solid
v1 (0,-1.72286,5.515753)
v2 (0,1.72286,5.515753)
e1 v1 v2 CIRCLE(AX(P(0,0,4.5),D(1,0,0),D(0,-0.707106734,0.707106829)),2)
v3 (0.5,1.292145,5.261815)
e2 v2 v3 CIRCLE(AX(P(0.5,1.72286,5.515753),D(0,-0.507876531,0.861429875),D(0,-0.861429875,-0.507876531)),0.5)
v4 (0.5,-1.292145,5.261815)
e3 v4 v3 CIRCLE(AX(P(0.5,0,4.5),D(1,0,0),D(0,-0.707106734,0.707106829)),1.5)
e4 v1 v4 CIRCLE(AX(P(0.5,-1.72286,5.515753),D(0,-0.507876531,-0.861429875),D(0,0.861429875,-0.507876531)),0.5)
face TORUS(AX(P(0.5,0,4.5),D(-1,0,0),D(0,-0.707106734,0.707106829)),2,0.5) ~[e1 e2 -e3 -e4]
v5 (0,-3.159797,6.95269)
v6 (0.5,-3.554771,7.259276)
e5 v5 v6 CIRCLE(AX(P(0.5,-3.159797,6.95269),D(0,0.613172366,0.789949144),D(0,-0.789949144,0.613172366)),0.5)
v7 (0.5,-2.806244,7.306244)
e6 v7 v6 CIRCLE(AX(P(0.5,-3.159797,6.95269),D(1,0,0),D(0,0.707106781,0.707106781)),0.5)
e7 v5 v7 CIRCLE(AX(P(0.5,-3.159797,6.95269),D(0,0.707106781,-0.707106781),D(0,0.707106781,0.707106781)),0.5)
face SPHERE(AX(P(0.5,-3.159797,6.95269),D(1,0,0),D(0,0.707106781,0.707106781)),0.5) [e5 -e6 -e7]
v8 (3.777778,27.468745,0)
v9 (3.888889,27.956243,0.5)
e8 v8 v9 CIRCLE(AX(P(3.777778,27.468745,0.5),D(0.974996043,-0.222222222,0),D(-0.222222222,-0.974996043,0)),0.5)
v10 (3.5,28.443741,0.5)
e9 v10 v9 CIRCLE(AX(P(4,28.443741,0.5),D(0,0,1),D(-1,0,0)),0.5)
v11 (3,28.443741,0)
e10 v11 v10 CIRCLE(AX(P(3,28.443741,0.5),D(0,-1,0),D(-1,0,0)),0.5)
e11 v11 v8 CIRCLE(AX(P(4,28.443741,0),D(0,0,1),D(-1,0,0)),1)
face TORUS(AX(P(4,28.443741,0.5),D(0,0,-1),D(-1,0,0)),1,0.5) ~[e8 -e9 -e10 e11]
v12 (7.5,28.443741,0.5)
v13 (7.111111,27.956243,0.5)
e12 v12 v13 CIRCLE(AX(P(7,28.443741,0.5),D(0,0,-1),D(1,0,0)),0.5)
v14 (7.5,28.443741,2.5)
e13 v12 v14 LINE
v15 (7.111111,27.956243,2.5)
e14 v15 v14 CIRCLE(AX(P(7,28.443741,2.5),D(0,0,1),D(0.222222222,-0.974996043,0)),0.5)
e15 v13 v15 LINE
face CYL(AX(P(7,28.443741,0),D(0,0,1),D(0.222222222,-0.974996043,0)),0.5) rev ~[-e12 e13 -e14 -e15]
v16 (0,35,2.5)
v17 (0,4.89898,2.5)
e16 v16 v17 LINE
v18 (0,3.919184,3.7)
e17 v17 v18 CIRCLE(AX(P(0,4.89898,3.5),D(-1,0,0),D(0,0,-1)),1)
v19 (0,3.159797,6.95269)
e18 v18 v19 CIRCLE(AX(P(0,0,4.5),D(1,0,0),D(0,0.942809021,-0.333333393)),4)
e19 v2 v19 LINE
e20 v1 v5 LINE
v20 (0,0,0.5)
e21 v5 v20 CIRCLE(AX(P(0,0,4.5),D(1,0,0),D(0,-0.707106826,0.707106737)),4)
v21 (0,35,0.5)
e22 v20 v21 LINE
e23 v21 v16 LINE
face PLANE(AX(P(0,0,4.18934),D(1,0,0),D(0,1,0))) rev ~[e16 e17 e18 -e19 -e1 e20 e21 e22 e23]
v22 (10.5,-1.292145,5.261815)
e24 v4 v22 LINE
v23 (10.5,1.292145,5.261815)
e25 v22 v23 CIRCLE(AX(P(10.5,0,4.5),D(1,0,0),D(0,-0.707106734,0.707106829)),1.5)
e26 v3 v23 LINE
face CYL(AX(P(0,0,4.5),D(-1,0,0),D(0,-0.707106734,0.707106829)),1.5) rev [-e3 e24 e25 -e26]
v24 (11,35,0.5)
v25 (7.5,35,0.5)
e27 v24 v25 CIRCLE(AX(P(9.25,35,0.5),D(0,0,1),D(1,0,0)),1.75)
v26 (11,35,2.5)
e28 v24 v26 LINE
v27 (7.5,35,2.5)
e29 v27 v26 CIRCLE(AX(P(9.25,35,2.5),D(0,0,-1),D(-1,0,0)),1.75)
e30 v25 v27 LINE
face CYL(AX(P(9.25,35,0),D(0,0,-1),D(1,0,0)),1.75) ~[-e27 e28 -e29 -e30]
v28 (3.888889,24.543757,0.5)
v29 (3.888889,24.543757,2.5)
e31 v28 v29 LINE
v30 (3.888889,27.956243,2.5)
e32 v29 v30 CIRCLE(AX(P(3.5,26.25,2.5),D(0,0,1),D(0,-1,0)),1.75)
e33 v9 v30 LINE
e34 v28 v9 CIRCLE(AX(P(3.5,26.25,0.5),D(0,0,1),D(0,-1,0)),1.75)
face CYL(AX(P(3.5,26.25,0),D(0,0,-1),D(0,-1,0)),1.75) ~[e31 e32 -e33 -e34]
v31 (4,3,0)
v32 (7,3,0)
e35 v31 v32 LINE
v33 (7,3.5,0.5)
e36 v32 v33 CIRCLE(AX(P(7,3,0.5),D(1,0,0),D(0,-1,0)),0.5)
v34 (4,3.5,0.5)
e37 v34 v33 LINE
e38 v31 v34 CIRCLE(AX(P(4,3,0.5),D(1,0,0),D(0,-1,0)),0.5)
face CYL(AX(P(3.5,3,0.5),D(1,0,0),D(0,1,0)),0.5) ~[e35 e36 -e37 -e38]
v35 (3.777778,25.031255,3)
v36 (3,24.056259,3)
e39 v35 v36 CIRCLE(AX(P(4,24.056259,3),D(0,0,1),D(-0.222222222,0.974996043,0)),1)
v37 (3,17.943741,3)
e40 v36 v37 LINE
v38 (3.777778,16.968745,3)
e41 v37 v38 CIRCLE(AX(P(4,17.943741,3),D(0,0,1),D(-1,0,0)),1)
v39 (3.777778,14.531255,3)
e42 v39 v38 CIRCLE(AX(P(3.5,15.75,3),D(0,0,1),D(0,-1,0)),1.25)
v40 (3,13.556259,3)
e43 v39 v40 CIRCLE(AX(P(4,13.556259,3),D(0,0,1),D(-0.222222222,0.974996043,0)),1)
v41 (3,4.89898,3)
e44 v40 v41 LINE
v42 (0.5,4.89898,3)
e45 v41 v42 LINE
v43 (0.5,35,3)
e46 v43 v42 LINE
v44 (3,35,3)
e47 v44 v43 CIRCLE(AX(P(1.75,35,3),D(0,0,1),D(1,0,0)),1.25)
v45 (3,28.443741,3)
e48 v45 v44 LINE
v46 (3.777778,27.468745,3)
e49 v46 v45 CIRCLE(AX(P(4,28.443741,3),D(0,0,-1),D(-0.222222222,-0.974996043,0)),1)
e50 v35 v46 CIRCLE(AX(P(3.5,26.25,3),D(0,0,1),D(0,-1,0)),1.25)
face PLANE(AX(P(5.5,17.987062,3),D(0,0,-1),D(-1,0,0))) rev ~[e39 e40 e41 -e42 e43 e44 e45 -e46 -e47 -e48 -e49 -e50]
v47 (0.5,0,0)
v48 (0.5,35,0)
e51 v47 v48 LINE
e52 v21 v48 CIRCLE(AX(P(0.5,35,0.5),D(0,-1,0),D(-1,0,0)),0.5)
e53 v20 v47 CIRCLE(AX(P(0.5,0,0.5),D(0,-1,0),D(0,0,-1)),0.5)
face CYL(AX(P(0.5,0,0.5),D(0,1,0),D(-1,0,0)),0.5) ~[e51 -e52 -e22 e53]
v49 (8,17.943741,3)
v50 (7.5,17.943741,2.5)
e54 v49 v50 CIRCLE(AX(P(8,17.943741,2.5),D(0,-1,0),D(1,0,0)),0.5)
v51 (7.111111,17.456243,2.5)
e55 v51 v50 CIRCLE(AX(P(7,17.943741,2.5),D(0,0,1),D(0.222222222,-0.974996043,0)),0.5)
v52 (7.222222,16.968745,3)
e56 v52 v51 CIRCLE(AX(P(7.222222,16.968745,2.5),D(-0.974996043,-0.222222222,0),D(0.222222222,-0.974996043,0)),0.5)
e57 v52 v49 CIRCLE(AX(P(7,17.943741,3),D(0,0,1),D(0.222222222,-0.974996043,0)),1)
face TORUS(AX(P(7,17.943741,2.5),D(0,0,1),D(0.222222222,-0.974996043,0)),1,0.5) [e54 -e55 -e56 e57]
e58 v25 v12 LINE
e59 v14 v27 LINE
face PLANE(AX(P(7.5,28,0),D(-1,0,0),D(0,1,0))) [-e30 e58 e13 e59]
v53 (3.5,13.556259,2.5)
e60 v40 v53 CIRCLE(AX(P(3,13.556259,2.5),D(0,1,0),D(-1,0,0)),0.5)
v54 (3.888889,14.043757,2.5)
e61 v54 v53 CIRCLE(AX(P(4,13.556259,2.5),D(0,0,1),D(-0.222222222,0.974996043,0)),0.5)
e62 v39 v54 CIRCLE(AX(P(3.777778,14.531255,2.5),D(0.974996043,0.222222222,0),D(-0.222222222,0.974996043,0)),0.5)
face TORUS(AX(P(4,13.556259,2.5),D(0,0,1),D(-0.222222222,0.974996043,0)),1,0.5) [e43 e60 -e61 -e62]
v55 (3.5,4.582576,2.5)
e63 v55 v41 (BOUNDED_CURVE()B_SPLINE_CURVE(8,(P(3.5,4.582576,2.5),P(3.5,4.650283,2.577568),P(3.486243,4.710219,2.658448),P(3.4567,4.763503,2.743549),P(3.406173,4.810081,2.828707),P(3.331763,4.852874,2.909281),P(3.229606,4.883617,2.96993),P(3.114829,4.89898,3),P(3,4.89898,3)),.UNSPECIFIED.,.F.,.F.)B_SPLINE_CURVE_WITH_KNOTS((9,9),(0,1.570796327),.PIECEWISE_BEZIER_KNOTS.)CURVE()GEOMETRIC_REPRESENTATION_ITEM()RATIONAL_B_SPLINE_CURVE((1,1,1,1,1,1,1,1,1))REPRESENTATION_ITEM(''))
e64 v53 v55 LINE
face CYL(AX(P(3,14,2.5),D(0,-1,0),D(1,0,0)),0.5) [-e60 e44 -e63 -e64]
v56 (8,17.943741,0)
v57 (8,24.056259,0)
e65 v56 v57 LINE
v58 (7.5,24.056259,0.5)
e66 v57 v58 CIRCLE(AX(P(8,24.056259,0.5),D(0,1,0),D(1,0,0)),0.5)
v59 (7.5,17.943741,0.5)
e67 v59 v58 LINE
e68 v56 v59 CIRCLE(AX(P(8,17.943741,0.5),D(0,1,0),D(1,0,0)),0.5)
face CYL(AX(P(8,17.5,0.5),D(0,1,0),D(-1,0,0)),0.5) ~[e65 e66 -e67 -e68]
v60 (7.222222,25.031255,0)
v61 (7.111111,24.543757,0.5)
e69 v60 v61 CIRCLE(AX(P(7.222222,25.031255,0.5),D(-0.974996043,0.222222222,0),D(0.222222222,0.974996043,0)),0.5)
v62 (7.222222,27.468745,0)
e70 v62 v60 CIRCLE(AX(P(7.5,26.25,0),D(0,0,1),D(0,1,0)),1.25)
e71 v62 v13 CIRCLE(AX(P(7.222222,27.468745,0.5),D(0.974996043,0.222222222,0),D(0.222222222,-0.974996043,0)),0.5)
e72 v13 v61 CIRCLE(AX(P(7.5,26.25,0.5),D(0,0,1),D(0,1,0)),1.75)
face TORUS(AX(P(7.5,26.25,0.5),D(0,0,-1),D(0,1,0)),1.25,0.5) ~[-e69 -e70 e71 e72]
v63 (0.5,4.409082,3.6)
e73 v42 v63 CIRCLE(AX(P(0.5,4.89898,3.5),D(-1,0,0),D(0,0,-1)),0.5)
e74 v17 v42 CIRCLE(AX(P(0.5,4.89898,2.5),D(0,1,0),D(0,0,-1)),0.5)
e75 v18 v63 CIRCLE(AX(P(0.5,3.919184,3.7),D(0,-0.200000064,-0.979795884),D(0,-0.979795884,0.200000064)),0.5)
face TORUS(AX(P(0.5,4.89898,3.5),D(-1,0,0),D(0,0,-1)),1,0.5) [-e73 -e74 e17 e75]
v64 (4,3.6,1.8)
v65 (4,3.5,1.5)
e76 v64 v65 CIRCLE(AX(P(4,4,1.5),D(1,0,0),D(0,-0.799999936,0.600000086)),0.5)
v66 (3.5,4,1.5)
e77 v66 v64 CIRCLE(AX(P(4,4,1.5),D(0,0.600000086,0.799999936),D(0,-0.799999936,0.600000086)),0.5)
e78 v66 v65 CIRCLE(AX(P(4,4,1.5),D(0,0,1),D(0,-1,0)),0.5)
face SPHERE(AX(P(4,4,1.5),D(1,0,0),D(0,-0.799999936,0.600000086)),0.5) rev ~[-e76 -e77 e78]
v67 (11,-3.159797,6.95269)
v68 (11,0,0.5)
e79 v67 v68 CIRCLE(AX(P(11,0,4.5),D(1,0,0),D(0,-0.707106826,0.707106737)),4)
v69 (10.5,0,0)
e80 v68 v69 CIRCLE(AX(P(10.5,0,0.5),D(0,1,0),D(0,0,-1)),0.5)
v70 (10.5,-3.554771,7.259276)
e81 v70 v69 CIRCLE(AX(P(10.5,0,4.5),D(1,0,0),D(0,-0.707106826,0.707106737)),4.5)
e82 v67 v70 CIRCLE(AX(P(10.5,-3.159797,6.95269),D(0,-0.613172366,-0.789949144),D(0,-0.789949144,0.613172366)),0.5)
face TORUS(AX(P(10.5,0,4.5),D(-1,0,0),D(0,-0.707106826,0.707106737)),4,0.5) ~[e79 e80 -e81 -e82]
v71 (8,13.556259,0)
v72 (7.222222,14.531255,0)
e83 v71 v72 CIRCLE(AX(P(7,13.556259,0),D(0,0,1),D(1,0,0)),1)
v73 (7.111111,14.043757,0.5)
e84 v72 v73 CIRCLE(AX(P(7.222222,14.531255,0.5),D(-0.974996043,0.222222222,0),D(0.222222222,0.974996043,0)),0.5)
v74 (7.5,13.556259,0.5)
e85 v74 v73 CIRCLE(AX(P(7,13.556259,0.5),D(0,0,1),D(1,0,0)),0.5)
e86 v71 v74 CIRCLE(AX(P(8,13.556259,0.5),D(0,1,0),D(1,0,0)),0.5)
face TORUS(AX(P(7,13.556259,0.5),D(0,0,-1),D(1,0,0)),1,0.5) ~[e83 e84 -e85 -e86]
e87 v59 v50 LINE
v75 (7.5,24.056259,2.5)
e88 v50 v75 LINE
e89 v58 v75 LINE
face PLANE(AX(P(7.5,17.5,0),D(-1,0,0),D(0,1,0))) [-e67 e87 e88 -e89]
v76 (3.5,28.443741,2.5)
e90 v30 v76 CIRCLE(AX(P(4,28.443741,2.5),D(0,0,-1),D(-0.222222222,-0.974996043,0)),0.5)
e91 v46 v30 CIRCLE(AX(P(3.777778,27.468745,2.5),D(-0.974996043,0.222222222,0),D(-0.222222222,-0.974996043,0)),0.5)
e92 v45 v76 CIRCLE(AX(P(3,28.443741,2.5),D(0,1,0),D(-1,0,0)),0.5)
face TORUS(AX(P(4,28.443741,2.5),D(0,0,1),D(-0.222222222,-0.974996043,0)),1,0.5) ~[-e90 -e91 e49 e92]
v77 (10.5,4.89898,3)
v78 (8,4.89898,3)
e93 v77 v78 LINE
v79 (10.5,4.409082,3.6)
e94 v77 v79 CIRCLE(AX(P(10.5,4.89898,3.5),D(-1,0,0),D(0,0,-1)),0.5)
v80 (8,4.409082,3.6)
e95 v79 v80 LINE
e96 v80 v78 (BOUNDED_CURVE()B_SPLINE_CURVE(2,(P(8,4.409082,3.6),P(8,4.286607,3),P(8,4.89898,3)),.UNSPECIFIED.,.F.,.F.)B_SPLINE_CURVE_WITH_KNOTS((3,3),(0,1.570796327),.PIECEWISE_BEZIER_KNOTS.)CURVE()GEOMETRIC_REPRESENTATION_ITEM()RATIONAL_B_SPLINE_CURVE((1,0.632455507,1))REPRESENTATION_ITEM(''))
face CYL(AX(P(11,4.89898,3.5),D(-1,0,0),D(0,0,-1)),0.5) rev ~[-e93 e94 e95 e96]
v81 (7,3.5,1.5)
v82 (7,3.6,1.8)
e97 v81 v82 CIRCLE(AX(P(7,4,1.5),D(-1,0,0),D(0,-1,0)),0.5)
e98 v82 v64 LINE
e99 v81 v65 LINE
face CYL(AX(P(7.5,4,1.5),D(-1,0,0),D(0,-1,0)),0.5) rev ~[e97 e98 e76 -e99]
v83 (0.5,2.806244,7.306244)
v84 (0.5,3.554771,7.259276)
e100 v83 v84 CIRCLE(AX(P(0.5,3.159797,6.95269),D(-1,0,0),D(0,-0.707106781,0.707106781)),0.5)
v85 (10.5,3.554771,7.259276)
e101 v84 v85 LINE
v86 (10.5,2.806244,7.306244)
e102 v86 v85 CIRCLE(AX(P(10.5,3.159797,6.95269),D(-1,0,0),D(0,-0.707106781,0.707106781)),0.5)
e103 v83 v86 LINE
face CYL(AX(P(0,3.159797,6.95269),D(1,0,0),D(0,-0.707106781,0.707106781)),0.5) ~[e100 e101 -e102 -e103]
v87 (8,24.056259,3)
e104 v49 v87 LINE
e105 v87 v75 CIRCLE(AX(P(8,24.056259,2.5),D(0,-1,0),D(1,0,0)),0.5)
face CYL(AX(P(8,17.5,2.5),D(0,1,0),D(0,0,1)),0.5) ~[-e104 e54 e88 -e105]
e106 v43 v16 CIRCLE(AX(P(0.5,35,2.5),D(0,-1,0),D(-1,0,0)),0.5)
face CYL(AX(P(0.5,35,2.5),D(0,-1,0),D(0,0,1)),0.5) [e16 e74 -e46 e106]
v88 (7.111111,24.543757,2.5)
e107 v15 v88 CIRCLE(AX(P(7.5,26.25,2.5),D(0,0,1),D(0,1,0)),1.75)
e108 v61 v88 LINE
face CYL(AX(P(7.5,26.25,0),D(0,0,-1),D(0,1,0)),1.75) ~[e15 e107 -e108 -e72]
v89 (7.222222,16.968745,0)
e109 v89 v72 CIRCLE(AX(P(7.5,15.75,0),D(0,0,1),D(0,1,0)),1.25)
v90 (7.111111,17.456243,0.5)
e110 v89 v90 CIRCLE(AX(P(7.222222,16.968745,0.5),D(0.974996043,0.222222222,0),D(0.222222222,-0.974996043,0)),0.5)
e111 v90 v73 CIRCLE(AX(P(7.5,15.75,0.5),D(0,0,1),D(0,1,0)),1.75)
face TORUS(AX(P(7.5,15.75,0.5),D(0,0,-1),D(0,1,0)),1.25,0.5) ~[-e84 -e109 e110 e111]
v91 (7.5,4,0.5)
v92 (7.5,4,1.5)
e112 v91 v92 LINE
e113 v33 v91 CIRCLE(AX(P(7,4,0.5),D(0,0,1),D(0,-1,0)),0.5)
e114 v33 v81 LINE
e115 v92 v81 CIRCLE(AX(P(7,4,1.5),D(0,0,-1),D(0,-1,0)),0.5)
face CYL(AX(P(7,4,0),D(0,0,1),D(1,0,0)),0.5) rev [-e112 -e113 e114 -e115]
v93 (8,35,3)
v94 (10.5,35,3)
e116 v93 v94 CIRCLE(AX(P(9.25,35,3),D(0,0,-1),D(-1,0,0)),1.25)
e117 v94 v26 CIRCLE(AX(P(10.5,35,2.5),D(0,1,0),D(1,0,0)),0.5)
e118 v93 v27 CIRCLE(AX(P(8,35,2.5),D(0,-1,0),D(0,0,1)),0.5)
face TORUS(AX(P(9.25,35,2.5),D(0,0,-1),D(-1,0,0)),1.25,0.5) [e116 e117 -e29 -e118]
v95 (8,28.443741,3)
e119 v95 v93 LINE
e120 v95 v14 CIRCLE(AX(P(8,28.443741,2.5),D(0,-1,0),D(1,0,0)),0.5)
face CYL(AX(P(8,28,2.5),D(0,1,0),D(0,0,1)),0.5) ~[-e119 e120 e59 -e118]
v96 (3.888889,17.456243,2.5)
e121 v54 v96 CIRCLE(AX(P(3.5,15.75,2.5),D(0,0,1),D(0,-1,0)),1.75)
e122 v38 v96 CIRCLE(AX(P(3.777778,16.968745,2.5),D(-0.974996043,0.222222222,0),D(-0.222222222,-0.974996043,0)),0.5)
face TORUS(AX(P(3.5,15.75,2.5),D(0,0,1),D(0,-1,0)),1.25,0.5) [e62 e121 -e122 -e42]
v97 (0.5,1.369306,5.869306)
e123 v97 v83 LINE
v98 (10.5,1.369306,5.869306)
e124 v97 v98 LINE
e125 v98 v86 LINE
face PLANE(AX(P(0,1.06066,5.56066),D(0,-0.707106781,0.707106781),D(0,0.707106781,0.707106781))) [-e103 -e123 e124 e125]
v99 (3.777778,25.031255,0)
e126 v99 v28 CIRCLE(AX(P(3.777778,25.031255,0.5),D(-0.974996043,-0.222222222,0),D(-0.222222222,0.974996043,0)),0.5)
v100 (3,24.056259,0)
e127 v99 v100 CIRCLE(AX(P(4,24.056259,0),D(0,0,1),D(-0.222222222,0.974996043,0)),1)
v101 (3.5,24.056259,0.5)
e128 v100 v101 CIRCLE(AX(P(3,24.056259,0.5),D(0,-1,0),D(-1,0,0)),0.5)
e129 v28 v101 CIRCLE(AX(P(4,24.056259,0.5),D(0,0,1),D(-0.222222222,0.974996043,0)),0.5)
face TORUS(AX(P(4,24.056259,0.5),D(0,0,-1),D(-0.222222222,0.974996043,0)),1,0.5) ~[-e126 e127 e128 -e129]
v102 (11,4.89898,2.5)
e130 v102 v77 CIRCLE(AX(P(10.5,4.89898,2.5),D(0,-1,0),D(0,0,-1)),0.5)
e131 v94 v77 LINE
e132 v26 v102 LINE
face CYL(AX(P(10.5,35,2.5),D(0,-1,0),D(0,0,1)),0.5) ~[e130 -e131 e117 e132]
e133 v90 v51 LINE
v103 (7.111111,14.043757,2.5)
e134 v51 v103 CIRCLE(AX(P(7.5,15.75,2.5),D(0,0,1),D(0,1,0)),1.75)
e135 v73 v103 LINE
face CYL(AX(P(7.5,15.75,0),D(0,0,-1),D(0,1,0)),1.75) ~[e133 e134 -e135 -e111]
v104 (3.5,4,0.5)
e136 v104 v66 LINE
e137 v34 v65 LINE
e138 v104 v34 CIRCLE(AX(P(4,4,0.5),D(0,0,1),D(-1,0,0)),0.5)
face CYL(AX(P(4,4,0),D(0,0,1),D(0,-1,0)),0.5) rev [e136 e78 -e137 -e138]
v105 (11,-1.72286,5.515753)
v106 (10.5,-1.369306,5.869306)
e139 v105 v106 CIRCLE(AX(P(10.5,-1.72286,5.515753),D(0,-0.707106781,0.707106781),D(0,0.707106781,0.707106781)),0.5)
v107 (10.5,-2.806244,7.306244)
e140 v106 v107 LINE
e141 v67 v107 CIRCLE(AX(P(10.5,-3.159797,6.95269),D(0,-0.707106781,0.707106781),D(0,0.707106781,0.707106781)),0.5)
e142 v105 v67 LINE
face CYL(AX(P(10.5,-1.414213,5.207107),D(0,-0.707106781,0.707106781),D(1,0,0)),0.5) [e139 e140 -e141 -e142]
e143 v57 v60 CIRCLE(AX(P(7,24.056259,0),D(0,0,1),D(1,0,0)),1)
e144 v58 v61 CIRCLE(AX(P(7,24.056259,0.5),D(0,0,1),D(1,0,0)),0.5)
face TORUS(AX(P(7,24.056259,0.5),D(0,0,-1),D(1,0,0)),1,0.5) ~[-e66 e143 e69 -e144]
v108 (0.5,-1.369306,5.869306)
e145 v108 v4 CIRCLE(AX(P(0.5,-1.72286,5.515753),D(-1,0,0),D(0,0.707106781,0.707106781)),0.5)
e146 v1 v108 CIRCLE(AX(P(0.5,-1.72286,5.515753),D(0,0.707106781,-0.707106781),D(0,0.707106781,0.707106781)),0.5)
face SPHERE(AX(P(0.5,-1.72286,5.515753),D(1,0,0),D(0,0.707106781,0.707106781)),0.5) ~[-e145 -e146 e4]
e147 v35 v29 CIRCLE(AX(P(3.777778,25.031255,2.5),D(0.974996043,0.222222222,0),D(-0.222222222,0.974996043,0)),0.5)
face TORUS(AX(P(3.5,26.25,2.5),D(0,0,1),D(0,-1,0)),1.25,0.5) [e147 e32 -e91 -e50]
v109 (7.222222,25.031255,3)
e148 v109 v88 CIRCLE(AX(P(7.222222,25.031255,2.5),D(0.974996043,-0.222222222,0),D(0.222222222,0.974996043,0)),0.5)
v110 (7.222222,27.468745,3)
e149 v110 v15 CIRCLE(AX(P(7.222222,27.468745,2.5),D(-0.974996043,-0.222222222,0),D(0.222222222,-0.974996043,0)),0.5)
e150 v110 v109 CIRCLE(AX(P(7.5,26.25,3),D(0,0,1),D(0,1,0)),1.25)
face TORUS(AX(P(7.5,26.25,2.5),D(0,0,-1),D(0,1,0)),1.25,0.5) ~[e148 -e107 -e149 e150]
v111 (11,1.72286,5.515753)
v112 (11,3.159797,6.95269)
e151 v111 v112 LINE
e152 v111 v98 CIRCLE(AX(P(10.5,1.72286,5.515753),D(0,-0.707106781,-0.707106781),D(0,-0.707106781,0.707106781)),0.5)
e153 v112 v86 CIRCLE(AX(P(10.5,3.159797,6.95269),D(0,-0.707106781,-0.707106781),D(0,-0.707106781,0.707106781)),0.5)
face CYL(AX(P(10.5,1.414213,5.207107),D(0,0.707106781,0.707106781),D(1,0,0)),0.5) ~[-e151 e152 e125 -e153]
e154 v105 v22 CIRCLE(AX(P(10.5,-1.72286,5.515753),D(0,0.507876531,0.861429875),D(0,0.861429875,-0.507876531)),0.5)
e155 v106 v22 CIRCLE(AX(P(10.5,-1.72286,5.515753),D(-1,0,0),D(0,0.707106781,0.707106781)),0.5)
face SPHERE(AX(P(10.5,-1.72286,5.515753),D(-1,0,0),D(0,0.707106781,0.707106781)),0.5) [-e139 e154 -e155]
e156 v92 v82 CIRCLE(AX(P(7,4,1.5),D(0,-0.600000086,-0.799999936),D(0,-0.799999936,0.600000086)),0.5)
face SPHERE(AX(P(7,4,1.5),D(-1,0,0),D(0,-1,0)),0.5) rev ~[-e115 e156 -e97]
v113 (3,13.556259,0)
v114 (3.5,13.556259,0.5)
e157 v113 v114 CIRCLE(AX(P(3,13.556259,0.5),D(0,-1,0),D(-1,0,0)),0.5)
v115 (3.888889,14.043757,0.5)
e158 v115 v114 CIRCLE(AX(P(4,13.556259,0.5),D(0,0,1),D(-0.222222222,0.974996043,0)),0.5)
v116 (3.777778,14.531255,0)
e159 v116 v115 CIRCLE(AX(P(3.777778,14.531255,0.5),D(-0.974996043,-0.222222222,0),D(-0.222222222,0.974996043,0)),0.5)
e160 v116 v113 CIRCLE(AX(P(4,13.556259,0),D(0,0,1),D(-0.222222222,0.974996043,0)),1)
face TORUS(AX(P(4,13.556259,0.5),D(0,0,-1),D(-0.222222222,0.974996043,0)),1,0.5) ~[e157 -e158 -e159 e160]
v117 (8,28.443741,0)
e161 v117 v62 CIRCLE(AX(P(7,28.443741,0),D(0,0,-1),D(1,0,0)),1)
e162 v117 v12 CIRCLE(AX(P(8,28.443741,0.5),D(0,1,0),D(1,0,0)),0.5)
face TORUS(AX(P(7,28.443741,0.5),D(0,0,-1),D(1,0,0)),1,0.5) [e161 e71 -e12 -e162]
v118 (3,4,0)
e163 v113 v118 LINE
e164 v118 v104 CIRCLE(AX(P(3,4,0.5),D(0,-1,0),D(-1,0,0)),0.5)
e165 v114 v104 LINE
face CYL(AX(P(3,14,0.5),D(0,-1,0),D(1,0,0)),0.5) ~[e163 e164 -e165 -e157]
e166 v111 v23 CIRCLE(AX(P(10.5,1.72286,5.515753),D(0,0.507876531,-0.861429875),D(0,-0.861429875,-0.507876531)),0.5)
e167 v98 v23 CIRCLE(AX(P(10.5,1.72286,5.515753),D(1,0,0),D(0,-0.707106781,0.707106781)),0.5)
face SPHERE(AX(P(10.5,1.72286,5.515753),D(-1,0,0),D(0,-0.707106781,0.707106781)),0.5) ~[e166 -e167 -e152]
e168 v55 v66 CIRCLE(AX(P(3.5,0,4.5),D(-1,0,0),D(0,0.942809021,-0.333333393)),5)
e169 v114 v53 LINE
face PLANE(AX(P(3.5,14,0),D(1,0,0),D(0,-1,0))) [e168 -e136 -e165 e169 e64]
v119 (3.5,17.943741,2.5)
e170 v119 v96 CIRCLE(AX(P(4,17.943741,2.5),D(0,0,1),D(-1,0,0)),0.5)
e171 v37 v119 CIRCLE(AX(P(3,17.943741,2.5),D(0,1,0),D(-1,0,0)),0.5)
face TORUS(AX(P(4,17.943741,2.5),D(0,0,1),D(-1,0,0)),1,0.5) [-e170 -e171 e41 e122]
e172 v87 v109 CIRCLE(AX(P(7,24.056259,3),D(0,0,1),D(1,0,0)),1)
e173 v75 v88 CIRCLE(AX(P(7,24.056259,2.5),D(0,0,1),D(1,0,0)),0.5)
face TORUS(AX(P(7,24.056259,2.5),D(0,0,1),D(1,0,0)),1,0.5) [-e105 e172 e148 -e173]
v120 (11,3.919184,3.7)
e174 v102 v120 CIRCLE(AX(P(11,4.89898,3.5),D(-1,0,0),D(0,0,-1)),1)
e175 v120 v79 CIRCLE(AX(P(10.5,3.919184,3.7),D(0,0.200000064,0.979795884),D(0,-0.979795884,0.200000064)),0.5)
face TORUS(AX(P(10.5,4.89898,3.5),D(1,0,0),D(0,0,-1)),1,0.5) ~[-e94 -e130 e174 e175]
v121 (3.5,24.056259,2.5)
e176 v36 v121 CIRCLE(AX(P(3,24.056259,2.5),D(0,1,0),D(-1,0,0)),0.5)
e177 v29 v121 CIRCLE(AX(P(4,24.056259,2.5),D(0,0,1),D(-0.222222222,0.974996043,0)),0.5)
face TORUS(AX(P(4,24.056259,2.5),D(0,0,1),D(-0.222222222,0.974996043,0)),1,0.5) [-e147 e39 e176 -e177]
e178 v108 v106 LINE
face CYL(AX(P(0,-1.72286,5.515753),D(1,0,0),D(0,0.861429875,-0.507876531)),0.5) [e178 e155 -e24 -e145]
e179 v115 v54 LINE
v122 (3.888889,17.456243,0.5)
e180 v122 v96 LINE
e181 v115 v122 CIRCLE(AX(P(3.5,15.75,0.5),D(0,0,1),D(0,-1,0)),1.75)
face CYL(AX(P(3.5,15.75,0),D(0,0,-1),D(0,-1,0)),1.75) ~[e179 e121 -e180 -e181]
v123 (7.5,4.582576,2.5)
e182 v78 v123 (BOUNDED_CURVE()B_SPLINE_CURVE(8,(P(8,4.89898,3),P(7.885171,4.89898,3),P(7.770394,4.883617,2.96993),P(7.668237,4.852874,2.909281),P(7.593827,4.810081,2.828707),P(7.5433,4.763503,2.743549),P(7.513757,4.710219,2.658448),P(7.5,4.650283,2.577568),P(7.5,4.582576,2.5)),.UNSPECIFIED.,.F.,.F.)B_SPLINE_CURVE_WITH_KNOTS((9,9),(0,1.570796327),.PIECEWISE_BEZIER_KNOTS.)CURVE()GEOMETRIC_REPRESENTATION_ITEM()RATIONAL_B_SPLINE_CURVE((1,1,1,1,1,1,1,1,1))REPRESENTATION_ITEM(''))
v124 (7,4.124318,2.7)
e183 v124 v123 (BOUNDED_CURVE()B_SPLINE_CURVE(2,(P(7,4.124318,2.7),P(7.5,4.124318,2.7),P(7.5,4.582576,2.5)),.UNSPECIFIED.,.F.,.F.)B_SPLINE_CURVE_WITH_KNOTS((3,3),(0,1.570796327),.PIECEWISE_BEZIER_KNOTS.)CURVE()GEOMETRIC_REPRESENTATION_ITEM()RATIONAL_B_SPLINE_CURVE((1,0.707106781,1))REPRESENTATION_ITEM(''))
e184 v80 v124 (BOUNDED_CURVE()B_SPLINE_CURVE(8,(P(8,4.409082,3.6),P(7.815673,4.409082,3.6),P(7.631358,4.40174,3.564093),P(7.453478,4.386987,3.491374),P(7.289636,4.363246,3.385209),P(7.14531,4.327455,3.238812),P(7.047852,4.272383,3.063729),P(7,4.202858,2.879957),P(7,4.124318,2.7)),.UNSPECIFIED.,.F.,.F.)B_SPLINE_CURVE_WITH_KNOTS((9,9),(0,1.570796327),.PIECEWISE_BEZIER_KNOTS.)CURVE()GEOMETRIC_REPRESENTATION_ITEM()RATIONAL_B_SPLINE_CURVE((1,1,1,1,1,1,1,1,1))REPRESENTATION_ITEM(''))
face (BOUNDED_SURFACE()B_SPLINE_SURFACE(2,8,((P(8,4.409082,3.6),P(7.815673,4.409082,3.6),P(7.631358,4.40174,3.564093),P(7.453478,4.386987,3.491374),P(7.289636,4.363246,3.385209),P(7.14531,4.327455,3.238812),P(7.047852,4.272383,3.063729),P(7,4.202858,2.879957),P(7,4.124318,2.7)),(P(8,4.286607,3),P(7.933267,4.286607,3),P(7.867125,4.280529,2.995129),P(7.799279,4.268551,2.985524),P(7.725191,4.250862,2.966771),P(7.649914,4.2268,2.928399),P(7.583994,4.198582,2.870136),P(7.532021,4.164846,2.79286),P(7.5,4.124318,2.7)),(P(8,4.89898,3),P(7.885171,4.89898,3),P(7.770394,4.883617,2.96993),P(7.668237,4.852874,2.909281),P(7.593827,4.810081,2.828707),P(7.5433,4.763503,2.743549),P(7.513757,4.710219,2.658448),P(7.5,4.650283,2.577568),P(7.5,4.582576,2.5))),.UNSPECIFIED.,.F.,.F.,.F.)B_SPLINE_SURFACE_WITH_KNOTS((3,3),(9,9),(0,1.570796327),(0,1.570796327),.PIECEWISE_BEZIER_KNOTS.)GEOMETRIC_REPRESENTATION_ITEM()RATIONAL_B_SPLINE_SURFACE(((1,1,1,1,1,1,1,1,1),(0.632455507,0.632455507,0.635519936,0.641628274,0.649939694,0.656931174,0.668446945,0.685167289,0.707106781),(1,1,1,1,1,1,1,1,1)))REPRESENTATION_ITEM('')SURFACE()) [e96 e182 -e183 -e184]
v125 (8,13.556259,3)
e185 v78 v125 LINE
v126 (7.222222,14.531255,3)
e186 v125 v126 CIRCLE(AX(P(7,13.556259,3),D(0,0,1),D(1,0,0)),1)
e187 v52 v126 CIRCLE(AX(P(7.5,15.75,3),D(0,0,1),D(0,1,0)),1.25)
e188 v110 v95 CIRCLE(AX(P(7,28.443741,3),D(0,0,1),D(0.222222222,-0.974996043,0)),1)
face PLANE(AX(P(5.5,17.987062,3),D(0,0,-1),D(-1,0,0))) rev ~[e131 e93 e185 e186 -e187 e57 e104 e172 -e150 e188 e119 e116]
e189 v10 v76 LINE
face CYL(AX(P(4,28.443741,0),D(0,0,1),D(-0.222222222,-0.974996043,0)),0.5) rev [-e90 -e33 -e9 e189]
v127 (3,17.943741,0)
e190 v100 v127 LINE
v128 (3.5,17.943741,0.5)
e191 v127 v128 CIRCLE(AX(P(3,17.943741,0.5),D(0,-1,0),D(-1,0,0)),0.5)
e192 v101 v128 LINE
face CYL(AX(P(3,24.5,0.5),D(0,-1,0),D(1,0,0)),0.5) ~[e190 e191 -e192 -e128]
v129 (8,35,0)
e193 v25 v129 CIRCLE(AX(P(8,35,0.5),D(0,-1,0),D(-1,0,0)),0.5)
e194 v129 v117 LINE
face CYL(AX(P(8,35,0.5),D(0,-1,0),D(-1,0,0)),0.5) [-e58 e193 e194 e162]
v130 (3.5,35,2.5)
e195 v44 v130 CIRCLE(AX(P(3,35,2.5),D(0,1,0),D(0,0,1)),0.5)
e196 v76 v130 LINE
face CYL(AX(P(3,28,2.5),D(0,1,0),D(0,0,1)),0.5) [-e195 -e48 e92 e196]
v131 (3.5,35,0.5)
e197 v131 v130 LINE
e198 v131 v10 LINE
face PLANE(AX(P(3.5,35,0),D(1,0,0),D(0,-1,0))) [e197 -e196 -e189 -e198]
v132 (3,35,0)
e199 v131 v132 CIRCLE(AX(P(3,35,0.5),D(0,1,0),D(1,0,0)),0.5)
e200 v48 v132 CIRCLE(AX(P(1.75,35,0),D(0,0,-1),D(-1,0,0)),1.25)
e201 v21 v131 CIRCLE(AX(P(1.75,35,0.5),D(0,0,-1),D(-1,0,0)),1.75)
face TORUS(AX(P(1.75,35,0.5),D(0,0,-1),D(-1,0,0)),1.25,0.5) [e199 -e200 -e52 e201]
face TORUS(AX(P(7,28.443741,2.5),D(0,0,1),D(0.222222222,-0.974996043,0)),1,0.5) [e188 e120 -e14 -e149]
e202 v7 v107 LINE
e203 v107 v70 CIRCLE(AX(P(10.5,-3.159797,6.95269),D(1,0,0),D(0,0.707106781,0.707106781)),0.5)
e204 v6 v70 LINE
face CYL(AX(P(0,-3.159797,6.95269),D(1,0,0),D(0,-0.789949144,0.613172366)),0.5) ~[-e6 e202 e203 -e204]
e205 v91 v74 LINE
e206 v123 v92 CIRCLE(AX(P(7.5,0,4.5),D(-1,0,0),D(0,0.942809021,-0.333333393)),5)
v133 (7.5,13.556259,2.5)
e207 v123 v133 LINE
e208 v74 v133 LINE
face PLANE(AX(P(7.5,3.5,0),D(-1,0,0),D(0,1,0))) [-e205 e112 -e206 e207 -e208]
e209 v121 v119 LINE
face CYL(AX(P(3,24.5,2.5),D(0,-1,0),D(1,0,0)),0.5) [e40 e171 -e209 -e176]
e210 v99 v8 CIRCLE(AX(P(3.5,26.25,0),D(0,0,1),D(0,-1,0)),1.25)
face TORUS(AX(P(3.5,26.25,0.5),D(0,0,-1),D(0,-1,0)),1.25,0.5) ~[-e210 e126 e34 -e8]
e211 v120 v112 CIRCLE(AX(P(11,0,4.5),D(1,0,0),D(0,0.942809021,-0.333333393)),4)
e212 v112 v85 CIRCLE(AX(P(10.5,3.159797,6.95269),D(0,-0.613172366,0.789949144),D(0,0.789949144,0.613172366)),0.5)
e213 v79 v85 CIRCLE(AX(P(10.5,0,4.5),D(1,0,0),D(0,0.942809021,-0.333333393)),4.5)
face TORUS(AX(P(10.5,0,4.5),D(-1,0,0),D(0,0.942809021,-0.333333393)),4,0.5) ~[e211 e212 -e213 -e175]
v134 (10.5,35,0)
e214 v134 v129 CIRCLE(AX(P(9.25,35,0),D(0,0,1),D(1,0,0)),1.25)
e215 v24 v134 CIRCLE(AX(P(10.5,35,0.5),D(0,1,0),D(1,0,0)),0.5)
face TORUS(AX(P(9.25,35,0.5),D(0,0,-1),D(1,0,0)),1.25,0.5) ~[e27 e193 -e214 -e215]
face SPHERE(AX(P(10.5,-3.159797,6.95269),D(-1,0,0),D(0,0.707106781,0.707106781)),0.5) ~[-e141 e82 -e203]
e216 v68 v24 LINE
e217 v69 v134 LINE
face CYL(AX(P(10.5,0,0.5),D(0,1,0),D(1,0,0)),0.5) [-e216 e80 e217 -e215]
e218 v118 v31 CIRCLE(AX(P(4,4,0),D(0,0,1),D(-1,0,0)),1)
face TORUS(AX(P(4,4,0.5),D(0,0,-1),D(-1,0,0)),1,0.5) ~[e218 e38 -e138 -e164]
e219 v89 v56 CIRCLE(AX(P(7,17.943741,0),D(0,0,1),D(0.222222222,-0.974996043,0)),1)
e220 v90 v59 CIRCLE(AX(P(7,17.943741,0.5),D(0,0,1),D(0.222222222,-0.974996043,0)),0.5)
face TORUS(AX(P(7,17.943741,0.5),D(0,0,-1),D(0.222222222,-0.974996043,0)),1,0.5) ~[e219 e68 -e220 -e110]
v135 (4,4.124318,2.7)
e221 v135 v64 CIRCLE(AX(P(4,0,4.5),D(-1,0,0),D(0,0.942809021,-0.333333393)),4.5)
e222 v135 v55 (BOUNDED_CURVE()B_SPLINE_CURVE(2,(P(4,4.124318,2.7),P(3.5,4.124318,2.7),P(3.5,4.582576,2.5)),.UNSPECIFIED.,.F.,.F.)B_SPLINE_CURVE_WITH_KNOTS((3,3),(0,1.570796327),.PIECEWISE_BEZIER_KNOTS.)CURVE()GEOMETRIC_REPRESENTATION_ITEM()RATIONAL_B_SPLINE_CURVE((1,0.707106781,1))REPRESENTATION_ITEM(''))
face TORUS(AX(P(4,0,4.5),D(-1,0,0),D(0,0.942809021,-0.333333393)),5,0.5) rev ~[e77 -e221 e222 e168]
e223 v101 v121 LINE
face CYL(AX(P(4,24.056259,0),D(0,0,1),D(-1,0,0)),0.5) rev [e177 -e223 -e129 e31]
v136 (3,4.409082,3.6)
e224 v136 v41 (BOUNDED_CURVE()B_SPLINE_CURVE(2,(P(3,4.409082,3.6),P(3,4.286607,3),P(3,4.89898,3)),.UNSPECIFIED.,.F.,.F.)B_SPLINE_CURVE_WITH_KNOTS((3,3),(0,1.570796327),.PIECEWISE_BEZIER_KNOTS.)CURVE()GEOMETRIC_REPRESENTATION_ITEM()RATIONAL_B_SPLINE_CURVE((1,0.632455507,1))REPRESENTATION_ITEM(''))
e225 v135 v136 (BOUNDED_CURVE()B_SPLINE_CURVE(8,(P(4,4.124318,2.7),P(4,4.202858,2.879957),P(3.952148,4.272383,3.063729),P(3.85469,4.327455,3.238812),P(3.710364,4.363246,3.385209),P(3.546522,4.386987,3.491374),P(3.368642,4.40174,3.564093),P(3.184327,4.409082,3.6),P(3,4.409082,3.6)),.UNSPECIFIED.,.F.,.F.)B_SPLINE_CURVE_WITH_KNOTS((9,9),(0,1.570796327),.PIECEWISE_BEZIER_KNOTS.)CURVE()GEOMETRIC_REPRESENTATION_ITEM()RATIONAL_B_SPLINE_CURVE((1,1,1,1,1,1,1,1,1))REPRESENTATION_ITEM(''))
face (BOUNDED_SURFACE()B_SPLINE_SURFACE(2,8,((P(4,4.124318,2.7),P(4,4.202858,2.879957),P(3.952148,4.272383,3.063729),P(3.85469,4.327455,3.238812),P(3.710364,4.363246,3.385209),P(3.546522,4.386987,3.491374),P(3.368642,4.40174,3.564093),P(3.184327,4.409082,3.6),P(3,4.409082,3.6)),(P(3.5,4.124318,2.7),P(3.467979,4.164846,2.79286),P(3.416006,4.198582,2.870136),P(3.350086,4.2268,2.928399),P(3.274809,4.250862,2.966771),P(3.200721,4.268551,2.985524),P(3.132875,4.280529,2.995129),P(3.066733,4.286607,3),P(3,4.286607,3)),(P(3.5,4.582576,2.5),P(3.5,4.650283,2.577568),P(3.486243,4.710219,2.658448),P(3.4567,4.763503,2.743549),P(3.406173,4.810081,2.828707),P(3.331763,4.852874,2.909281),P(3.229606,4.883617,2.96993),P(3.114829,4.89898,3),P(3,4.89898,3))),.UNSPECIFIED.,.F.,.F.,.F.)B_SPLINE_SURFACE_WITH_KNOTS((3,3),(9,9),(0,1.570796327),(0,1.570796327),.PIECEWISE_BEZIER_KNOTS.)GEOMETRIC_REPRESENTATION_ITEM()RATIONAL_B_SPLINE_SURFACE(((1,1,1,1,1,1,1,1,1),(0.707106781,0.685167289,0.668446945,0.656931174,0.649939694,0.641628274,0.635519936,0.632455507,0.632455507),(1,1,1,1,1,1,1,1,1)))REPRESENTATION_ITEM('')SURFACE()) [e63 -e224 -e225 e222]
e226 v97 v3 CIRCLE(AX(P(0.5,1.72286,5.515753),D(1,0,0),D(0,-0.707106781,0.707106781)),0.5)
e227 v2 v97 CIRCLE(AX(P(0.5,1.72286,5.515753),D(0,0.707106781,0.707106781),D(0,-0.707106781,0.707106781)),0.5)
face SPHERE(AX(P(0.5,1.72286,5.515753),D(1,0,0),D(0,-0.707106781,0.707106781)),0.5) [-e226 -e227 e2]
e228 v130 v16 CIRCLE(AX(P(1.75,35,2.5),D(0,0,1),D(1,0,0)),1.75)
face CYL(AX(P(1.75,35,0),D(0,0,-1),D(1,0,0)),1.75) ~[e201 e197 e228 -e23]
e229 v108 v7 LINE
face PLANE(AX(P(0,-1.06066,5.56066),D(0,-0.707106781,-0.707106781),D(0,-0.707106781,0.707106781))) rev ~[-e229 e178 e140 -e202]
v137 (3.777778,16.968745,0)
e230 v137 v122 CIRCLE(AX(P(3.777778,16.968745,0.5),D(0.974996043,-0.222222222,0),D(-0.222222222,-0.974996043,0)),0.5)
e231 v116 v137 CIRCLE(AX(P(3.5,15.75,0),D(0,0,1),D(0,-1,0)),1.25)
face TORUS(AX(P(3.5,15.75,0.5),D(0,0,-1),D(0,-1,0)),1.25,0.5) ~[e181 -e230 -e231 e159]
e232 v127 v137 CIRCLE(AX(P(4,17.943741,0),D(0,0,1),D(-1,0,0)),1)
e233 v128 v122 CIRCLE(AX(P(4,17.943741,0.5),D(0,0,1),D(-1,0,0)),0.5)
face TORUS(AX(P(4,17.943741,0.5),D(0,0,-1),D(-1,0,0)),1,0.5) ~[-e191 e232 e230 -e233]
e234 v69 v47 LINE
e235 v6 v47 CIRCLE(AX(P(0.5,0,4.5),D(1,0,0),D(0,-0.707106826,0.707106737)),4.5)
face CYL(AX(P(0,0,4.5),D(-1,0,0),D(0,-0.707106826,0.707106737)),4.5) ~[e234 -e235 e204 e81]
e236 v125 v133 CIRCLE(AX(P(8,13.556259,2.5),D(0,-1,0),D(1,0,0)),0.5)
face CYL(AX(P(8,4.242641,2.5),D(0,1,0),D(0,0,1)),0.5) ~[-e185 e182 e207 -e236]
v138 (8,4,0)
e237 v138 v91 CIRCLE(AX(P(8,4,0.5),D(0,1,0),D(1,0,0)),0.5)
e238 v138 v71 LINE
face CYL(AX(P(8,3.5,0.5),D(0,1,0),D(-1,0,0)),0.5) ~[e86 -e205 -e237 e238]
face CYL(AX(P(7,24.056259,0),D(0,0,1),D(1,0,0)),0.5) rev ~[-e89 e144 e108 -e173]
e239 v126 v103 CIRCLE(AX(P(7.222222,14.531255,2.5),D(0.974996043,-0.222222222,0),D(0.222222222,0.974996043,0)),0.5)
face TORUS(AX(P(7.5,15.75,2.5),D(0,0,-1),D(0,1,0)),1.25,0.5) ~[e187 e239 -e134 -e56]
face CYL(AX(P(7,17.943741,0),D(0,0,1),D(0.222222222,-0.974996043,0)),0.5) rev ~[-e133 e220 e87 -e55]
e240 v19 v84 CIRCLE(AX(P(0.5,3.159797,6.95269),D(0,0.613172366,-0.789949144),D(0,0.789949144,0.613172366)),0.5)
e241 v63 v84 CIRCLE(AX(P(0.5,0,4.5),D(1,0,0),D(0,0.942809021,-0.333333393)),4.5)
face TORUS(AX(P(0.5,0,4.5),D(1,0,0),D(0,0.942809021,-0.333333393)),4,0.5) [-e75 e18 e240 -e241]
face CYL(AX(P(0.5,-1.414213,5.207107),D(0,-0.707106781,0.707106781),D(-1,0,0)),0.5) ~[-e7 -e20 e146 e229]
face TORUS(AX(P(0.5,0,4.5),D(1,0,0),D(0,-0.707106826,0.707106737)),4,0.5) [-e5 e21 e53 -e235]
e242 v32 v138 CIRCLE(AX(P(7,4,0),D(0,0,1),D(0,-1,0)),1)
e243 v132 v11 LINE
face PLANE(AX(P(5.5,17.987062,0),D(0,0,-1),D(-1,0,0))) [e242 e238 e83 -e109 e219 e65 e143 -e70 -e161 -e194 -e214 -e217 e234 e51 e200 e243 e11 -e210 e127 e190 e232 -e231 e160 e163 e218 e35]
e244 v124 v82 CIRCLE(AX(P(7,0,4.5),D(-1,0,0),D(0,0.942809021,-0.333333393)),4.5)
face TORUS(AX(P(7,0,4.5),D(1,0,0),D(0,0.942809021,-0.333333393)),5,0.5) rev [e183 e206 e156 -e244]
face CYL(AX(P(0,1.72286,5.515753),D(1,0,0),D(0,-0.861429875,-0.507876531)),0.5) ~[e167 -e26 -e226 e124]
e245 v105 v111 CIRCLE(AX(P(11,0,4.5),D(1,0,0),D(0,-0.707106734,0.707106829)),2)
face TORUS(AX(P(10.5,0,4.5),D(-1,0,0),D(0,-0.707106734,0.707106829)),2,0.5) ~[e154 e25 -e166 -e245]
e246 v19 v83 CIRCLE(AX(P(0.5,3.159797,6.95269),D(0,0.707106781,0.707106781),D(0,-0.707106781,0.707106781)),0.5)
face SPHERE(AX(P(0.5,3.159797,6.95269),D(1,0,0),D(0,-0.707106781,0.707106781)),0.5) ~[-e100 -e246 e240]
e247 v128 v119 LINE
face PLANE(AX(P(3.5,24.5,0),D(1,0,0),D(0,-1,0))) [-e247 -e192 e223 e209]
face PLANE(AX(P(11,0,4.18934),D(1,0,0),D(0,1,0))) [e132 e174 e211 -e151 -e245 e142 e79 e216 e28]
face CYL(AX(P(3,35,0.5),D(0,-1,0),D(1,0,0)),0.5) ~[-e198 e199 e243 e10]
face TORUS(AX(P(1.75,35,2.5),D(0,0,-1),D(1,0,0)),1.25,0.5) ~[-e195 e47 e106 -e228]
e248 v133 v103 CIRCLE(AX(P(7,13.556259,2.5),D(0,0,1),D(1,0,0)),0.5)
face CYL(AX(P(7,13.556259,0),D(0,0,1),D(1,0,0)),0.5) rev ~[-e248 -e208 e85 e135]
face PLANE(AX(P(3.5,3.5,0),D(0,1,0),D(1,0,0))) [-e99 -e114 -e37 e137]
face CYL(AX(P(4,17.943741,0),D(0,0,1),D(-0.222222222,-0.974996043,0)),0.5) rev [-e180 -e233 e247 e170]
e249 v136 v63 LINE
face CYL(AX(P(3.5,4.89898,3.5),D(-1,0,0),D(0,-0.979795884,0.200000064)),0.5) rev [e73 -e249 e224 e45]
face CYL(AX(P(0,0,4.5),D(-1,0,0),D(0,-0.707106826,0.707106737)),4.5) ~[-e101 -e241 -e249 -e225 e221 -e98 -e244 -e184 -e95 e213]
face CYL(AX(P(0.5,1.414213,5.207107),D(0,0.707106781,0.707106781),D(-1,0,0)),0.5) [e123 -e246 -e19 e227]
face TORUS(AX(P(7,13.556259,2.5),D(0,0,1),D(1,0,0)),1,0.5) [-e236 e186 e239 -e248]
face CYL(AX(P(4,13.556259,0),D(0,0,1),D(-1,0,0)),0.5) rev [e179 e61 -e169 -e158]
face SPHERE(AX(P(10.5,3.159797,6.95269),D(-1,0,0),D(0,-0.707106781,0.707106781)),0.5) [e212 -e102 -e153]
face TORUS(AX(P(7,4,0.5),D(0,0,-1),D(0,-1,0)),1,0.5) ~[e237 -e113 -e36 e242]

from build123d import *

# Parameters (mm, degrees)
PAD_DEPTH    = 3
PAD001_DEPTH = 11
FILLET_R     = 0.5


with BuildPart() as body:
    # Sketch → Pad (new body)
    with BuildSketch(Plane.XY):
        with BuildLine():
            Line((0, 0), (0, 35))
            ThreePointArc((3.5, 35), (1.75, 36.75), (0, 35))
            Line((3.5, 35), (3.5, 28))
            ThreePointArc((3.5, 24.5), (5.25, 26.25), (3.5, 28))
            Line((3.5, 24.5), (3.5, 17.5))
            ThreePointArc((3.5, 14), (5.25, 15.75), (3.5, 17.5))
            Line((3.5, 14), (3.5, 3.5))
            Line((3.5, 3.5), (7.5, 3.5))
            Line((7.5, 3.5), (7.5, 14))
            ThreePointArc((7.5, 17.5), (5.75, 15.75), (7.5, 14))
            Line((7.5, 17.5), (7.5, 24.5))
            ThreePointArc((7.5, 28), (5.75, 26.25), (7.5, 24.5))
            Line((7.5, 28), (7.5, 35))
            ThreePointArc((11, 35), (9.25, 36.75), (7.5, 35))
            Line((11, 35), (11, 0))
            Line((11, 0), (0, 0))
        make_face()
    extrude(amount=PAD_DEPTH)


with BuildPart() as fillet_body:
    # Sketch003 → Pad001 (new body)
    with BuildSketch(Plane.YZ):
        with BuildLine():
            ThreePointArc((-3.181981, 7.681981), (0, 0), (3.181981, 7.681981))
            Line((1.06066, 5.56066), (3.181981, 7.681981))
            ThreePointArc((-1.06066, 5.56066), (0, 3), (1.06066, 5.56066))
            Line((-1.06066, 5.56066), (-3.181981, 7.681981))
        make_face()
    extrude(amount=PAD001_DEPTH)

    # Fusion: union Body
    add(body.part)

    # Fillet
    fillet_edges = [fillet_body.edges().sort_by_distance(p)[0] for p in [
        (5.5, 1.06066, 5.56066),
        (5.5, 3.181981, 7.681981),
        (0, 2.12132, 6.62132),
        (11, 2.12132, 6.62132),
        (0, 4.388791, 5.494241),
        (11, 4.388791, 5.494241),
        (9.25, 4.242641, 3),
        (7.5, 3.927888, 2.304163),
        (5.5, 3.5, 1.671573),
        (3.5, 3.927888, 2.304163),
        (1.75, 4.242641, 3),
        (5.5, -1.06066, 5.56066),
        (5.5, -3.181981, 7.681981),
        (0, -2.12132, 6.62132),
        (11, -2.12132, 6.62132),
        (0, -4.157458, 2.777925),
        (5.5, 0, 0),
        (11, -4.157458, 2.777925),
        (11, 17.5, 0),
        (0, 17.5, 0),
        (1.75, 36.75, 0),
        (3.5, 31.5, 0),
        (5.25, 26.25, 0),
        (3.5, 21, 0),
        (5.25, 15.75, 0),
        (3.5, 8.75, 0),
        (5.5, 3.5, 0),
        (7.5, 8.75, 0),
        (5.75, 15.75, 0),
        (7.5, 21, 0),
        (5.75, 26.25, 0),
        (7.5, 31.5, 0),
        (9.25, 36.75, 0),
        (0, 35, 1.5),
        (1.75, 36.75, 3),
        (3.5, 28, 1.5),
        (3.5, 31.5, 3),
        (3.5, 24.5, 1.5),
        (5.25, 26.25, 3),
        (3.5, 17.5, 1.5),
        (3.5, 21, 3),
        (3.5, 14, 1.5),
        (5.25, 15.75, 3),
        (3.5, 3.5, 0.835786),
        (3.5, 9.12132, 3),
        (7.5, 3.5, 0.835786),
        (7.5, 14, 1.5),
        (7.5, 9.12132, 3),
        (7.5, 17.5, 1.5),
        (5.75, 15.75, 3),
        (7.5, 24.5, 1.5),
        (7.5, 21, 3),
        (7.5, 28, 1.5),
        (5.75, 26.25, 3),
        (7.5, 31.5, 3),
        (11, 35, 1.5),
        (9.25, 36.75, 3),
        (11, 19.62132, 3),
        (0, 19.62132, 3),
        (0, -1.385819, 3.925975),
        (0, 1.385819, 3.925975),
        (11, -1.385819, 3.925975),
        (11, 1.385819, 3.925975),
    ]]
    fillet(fillet_edges, radius=FILLET_R)


solid = fillet_body.part
